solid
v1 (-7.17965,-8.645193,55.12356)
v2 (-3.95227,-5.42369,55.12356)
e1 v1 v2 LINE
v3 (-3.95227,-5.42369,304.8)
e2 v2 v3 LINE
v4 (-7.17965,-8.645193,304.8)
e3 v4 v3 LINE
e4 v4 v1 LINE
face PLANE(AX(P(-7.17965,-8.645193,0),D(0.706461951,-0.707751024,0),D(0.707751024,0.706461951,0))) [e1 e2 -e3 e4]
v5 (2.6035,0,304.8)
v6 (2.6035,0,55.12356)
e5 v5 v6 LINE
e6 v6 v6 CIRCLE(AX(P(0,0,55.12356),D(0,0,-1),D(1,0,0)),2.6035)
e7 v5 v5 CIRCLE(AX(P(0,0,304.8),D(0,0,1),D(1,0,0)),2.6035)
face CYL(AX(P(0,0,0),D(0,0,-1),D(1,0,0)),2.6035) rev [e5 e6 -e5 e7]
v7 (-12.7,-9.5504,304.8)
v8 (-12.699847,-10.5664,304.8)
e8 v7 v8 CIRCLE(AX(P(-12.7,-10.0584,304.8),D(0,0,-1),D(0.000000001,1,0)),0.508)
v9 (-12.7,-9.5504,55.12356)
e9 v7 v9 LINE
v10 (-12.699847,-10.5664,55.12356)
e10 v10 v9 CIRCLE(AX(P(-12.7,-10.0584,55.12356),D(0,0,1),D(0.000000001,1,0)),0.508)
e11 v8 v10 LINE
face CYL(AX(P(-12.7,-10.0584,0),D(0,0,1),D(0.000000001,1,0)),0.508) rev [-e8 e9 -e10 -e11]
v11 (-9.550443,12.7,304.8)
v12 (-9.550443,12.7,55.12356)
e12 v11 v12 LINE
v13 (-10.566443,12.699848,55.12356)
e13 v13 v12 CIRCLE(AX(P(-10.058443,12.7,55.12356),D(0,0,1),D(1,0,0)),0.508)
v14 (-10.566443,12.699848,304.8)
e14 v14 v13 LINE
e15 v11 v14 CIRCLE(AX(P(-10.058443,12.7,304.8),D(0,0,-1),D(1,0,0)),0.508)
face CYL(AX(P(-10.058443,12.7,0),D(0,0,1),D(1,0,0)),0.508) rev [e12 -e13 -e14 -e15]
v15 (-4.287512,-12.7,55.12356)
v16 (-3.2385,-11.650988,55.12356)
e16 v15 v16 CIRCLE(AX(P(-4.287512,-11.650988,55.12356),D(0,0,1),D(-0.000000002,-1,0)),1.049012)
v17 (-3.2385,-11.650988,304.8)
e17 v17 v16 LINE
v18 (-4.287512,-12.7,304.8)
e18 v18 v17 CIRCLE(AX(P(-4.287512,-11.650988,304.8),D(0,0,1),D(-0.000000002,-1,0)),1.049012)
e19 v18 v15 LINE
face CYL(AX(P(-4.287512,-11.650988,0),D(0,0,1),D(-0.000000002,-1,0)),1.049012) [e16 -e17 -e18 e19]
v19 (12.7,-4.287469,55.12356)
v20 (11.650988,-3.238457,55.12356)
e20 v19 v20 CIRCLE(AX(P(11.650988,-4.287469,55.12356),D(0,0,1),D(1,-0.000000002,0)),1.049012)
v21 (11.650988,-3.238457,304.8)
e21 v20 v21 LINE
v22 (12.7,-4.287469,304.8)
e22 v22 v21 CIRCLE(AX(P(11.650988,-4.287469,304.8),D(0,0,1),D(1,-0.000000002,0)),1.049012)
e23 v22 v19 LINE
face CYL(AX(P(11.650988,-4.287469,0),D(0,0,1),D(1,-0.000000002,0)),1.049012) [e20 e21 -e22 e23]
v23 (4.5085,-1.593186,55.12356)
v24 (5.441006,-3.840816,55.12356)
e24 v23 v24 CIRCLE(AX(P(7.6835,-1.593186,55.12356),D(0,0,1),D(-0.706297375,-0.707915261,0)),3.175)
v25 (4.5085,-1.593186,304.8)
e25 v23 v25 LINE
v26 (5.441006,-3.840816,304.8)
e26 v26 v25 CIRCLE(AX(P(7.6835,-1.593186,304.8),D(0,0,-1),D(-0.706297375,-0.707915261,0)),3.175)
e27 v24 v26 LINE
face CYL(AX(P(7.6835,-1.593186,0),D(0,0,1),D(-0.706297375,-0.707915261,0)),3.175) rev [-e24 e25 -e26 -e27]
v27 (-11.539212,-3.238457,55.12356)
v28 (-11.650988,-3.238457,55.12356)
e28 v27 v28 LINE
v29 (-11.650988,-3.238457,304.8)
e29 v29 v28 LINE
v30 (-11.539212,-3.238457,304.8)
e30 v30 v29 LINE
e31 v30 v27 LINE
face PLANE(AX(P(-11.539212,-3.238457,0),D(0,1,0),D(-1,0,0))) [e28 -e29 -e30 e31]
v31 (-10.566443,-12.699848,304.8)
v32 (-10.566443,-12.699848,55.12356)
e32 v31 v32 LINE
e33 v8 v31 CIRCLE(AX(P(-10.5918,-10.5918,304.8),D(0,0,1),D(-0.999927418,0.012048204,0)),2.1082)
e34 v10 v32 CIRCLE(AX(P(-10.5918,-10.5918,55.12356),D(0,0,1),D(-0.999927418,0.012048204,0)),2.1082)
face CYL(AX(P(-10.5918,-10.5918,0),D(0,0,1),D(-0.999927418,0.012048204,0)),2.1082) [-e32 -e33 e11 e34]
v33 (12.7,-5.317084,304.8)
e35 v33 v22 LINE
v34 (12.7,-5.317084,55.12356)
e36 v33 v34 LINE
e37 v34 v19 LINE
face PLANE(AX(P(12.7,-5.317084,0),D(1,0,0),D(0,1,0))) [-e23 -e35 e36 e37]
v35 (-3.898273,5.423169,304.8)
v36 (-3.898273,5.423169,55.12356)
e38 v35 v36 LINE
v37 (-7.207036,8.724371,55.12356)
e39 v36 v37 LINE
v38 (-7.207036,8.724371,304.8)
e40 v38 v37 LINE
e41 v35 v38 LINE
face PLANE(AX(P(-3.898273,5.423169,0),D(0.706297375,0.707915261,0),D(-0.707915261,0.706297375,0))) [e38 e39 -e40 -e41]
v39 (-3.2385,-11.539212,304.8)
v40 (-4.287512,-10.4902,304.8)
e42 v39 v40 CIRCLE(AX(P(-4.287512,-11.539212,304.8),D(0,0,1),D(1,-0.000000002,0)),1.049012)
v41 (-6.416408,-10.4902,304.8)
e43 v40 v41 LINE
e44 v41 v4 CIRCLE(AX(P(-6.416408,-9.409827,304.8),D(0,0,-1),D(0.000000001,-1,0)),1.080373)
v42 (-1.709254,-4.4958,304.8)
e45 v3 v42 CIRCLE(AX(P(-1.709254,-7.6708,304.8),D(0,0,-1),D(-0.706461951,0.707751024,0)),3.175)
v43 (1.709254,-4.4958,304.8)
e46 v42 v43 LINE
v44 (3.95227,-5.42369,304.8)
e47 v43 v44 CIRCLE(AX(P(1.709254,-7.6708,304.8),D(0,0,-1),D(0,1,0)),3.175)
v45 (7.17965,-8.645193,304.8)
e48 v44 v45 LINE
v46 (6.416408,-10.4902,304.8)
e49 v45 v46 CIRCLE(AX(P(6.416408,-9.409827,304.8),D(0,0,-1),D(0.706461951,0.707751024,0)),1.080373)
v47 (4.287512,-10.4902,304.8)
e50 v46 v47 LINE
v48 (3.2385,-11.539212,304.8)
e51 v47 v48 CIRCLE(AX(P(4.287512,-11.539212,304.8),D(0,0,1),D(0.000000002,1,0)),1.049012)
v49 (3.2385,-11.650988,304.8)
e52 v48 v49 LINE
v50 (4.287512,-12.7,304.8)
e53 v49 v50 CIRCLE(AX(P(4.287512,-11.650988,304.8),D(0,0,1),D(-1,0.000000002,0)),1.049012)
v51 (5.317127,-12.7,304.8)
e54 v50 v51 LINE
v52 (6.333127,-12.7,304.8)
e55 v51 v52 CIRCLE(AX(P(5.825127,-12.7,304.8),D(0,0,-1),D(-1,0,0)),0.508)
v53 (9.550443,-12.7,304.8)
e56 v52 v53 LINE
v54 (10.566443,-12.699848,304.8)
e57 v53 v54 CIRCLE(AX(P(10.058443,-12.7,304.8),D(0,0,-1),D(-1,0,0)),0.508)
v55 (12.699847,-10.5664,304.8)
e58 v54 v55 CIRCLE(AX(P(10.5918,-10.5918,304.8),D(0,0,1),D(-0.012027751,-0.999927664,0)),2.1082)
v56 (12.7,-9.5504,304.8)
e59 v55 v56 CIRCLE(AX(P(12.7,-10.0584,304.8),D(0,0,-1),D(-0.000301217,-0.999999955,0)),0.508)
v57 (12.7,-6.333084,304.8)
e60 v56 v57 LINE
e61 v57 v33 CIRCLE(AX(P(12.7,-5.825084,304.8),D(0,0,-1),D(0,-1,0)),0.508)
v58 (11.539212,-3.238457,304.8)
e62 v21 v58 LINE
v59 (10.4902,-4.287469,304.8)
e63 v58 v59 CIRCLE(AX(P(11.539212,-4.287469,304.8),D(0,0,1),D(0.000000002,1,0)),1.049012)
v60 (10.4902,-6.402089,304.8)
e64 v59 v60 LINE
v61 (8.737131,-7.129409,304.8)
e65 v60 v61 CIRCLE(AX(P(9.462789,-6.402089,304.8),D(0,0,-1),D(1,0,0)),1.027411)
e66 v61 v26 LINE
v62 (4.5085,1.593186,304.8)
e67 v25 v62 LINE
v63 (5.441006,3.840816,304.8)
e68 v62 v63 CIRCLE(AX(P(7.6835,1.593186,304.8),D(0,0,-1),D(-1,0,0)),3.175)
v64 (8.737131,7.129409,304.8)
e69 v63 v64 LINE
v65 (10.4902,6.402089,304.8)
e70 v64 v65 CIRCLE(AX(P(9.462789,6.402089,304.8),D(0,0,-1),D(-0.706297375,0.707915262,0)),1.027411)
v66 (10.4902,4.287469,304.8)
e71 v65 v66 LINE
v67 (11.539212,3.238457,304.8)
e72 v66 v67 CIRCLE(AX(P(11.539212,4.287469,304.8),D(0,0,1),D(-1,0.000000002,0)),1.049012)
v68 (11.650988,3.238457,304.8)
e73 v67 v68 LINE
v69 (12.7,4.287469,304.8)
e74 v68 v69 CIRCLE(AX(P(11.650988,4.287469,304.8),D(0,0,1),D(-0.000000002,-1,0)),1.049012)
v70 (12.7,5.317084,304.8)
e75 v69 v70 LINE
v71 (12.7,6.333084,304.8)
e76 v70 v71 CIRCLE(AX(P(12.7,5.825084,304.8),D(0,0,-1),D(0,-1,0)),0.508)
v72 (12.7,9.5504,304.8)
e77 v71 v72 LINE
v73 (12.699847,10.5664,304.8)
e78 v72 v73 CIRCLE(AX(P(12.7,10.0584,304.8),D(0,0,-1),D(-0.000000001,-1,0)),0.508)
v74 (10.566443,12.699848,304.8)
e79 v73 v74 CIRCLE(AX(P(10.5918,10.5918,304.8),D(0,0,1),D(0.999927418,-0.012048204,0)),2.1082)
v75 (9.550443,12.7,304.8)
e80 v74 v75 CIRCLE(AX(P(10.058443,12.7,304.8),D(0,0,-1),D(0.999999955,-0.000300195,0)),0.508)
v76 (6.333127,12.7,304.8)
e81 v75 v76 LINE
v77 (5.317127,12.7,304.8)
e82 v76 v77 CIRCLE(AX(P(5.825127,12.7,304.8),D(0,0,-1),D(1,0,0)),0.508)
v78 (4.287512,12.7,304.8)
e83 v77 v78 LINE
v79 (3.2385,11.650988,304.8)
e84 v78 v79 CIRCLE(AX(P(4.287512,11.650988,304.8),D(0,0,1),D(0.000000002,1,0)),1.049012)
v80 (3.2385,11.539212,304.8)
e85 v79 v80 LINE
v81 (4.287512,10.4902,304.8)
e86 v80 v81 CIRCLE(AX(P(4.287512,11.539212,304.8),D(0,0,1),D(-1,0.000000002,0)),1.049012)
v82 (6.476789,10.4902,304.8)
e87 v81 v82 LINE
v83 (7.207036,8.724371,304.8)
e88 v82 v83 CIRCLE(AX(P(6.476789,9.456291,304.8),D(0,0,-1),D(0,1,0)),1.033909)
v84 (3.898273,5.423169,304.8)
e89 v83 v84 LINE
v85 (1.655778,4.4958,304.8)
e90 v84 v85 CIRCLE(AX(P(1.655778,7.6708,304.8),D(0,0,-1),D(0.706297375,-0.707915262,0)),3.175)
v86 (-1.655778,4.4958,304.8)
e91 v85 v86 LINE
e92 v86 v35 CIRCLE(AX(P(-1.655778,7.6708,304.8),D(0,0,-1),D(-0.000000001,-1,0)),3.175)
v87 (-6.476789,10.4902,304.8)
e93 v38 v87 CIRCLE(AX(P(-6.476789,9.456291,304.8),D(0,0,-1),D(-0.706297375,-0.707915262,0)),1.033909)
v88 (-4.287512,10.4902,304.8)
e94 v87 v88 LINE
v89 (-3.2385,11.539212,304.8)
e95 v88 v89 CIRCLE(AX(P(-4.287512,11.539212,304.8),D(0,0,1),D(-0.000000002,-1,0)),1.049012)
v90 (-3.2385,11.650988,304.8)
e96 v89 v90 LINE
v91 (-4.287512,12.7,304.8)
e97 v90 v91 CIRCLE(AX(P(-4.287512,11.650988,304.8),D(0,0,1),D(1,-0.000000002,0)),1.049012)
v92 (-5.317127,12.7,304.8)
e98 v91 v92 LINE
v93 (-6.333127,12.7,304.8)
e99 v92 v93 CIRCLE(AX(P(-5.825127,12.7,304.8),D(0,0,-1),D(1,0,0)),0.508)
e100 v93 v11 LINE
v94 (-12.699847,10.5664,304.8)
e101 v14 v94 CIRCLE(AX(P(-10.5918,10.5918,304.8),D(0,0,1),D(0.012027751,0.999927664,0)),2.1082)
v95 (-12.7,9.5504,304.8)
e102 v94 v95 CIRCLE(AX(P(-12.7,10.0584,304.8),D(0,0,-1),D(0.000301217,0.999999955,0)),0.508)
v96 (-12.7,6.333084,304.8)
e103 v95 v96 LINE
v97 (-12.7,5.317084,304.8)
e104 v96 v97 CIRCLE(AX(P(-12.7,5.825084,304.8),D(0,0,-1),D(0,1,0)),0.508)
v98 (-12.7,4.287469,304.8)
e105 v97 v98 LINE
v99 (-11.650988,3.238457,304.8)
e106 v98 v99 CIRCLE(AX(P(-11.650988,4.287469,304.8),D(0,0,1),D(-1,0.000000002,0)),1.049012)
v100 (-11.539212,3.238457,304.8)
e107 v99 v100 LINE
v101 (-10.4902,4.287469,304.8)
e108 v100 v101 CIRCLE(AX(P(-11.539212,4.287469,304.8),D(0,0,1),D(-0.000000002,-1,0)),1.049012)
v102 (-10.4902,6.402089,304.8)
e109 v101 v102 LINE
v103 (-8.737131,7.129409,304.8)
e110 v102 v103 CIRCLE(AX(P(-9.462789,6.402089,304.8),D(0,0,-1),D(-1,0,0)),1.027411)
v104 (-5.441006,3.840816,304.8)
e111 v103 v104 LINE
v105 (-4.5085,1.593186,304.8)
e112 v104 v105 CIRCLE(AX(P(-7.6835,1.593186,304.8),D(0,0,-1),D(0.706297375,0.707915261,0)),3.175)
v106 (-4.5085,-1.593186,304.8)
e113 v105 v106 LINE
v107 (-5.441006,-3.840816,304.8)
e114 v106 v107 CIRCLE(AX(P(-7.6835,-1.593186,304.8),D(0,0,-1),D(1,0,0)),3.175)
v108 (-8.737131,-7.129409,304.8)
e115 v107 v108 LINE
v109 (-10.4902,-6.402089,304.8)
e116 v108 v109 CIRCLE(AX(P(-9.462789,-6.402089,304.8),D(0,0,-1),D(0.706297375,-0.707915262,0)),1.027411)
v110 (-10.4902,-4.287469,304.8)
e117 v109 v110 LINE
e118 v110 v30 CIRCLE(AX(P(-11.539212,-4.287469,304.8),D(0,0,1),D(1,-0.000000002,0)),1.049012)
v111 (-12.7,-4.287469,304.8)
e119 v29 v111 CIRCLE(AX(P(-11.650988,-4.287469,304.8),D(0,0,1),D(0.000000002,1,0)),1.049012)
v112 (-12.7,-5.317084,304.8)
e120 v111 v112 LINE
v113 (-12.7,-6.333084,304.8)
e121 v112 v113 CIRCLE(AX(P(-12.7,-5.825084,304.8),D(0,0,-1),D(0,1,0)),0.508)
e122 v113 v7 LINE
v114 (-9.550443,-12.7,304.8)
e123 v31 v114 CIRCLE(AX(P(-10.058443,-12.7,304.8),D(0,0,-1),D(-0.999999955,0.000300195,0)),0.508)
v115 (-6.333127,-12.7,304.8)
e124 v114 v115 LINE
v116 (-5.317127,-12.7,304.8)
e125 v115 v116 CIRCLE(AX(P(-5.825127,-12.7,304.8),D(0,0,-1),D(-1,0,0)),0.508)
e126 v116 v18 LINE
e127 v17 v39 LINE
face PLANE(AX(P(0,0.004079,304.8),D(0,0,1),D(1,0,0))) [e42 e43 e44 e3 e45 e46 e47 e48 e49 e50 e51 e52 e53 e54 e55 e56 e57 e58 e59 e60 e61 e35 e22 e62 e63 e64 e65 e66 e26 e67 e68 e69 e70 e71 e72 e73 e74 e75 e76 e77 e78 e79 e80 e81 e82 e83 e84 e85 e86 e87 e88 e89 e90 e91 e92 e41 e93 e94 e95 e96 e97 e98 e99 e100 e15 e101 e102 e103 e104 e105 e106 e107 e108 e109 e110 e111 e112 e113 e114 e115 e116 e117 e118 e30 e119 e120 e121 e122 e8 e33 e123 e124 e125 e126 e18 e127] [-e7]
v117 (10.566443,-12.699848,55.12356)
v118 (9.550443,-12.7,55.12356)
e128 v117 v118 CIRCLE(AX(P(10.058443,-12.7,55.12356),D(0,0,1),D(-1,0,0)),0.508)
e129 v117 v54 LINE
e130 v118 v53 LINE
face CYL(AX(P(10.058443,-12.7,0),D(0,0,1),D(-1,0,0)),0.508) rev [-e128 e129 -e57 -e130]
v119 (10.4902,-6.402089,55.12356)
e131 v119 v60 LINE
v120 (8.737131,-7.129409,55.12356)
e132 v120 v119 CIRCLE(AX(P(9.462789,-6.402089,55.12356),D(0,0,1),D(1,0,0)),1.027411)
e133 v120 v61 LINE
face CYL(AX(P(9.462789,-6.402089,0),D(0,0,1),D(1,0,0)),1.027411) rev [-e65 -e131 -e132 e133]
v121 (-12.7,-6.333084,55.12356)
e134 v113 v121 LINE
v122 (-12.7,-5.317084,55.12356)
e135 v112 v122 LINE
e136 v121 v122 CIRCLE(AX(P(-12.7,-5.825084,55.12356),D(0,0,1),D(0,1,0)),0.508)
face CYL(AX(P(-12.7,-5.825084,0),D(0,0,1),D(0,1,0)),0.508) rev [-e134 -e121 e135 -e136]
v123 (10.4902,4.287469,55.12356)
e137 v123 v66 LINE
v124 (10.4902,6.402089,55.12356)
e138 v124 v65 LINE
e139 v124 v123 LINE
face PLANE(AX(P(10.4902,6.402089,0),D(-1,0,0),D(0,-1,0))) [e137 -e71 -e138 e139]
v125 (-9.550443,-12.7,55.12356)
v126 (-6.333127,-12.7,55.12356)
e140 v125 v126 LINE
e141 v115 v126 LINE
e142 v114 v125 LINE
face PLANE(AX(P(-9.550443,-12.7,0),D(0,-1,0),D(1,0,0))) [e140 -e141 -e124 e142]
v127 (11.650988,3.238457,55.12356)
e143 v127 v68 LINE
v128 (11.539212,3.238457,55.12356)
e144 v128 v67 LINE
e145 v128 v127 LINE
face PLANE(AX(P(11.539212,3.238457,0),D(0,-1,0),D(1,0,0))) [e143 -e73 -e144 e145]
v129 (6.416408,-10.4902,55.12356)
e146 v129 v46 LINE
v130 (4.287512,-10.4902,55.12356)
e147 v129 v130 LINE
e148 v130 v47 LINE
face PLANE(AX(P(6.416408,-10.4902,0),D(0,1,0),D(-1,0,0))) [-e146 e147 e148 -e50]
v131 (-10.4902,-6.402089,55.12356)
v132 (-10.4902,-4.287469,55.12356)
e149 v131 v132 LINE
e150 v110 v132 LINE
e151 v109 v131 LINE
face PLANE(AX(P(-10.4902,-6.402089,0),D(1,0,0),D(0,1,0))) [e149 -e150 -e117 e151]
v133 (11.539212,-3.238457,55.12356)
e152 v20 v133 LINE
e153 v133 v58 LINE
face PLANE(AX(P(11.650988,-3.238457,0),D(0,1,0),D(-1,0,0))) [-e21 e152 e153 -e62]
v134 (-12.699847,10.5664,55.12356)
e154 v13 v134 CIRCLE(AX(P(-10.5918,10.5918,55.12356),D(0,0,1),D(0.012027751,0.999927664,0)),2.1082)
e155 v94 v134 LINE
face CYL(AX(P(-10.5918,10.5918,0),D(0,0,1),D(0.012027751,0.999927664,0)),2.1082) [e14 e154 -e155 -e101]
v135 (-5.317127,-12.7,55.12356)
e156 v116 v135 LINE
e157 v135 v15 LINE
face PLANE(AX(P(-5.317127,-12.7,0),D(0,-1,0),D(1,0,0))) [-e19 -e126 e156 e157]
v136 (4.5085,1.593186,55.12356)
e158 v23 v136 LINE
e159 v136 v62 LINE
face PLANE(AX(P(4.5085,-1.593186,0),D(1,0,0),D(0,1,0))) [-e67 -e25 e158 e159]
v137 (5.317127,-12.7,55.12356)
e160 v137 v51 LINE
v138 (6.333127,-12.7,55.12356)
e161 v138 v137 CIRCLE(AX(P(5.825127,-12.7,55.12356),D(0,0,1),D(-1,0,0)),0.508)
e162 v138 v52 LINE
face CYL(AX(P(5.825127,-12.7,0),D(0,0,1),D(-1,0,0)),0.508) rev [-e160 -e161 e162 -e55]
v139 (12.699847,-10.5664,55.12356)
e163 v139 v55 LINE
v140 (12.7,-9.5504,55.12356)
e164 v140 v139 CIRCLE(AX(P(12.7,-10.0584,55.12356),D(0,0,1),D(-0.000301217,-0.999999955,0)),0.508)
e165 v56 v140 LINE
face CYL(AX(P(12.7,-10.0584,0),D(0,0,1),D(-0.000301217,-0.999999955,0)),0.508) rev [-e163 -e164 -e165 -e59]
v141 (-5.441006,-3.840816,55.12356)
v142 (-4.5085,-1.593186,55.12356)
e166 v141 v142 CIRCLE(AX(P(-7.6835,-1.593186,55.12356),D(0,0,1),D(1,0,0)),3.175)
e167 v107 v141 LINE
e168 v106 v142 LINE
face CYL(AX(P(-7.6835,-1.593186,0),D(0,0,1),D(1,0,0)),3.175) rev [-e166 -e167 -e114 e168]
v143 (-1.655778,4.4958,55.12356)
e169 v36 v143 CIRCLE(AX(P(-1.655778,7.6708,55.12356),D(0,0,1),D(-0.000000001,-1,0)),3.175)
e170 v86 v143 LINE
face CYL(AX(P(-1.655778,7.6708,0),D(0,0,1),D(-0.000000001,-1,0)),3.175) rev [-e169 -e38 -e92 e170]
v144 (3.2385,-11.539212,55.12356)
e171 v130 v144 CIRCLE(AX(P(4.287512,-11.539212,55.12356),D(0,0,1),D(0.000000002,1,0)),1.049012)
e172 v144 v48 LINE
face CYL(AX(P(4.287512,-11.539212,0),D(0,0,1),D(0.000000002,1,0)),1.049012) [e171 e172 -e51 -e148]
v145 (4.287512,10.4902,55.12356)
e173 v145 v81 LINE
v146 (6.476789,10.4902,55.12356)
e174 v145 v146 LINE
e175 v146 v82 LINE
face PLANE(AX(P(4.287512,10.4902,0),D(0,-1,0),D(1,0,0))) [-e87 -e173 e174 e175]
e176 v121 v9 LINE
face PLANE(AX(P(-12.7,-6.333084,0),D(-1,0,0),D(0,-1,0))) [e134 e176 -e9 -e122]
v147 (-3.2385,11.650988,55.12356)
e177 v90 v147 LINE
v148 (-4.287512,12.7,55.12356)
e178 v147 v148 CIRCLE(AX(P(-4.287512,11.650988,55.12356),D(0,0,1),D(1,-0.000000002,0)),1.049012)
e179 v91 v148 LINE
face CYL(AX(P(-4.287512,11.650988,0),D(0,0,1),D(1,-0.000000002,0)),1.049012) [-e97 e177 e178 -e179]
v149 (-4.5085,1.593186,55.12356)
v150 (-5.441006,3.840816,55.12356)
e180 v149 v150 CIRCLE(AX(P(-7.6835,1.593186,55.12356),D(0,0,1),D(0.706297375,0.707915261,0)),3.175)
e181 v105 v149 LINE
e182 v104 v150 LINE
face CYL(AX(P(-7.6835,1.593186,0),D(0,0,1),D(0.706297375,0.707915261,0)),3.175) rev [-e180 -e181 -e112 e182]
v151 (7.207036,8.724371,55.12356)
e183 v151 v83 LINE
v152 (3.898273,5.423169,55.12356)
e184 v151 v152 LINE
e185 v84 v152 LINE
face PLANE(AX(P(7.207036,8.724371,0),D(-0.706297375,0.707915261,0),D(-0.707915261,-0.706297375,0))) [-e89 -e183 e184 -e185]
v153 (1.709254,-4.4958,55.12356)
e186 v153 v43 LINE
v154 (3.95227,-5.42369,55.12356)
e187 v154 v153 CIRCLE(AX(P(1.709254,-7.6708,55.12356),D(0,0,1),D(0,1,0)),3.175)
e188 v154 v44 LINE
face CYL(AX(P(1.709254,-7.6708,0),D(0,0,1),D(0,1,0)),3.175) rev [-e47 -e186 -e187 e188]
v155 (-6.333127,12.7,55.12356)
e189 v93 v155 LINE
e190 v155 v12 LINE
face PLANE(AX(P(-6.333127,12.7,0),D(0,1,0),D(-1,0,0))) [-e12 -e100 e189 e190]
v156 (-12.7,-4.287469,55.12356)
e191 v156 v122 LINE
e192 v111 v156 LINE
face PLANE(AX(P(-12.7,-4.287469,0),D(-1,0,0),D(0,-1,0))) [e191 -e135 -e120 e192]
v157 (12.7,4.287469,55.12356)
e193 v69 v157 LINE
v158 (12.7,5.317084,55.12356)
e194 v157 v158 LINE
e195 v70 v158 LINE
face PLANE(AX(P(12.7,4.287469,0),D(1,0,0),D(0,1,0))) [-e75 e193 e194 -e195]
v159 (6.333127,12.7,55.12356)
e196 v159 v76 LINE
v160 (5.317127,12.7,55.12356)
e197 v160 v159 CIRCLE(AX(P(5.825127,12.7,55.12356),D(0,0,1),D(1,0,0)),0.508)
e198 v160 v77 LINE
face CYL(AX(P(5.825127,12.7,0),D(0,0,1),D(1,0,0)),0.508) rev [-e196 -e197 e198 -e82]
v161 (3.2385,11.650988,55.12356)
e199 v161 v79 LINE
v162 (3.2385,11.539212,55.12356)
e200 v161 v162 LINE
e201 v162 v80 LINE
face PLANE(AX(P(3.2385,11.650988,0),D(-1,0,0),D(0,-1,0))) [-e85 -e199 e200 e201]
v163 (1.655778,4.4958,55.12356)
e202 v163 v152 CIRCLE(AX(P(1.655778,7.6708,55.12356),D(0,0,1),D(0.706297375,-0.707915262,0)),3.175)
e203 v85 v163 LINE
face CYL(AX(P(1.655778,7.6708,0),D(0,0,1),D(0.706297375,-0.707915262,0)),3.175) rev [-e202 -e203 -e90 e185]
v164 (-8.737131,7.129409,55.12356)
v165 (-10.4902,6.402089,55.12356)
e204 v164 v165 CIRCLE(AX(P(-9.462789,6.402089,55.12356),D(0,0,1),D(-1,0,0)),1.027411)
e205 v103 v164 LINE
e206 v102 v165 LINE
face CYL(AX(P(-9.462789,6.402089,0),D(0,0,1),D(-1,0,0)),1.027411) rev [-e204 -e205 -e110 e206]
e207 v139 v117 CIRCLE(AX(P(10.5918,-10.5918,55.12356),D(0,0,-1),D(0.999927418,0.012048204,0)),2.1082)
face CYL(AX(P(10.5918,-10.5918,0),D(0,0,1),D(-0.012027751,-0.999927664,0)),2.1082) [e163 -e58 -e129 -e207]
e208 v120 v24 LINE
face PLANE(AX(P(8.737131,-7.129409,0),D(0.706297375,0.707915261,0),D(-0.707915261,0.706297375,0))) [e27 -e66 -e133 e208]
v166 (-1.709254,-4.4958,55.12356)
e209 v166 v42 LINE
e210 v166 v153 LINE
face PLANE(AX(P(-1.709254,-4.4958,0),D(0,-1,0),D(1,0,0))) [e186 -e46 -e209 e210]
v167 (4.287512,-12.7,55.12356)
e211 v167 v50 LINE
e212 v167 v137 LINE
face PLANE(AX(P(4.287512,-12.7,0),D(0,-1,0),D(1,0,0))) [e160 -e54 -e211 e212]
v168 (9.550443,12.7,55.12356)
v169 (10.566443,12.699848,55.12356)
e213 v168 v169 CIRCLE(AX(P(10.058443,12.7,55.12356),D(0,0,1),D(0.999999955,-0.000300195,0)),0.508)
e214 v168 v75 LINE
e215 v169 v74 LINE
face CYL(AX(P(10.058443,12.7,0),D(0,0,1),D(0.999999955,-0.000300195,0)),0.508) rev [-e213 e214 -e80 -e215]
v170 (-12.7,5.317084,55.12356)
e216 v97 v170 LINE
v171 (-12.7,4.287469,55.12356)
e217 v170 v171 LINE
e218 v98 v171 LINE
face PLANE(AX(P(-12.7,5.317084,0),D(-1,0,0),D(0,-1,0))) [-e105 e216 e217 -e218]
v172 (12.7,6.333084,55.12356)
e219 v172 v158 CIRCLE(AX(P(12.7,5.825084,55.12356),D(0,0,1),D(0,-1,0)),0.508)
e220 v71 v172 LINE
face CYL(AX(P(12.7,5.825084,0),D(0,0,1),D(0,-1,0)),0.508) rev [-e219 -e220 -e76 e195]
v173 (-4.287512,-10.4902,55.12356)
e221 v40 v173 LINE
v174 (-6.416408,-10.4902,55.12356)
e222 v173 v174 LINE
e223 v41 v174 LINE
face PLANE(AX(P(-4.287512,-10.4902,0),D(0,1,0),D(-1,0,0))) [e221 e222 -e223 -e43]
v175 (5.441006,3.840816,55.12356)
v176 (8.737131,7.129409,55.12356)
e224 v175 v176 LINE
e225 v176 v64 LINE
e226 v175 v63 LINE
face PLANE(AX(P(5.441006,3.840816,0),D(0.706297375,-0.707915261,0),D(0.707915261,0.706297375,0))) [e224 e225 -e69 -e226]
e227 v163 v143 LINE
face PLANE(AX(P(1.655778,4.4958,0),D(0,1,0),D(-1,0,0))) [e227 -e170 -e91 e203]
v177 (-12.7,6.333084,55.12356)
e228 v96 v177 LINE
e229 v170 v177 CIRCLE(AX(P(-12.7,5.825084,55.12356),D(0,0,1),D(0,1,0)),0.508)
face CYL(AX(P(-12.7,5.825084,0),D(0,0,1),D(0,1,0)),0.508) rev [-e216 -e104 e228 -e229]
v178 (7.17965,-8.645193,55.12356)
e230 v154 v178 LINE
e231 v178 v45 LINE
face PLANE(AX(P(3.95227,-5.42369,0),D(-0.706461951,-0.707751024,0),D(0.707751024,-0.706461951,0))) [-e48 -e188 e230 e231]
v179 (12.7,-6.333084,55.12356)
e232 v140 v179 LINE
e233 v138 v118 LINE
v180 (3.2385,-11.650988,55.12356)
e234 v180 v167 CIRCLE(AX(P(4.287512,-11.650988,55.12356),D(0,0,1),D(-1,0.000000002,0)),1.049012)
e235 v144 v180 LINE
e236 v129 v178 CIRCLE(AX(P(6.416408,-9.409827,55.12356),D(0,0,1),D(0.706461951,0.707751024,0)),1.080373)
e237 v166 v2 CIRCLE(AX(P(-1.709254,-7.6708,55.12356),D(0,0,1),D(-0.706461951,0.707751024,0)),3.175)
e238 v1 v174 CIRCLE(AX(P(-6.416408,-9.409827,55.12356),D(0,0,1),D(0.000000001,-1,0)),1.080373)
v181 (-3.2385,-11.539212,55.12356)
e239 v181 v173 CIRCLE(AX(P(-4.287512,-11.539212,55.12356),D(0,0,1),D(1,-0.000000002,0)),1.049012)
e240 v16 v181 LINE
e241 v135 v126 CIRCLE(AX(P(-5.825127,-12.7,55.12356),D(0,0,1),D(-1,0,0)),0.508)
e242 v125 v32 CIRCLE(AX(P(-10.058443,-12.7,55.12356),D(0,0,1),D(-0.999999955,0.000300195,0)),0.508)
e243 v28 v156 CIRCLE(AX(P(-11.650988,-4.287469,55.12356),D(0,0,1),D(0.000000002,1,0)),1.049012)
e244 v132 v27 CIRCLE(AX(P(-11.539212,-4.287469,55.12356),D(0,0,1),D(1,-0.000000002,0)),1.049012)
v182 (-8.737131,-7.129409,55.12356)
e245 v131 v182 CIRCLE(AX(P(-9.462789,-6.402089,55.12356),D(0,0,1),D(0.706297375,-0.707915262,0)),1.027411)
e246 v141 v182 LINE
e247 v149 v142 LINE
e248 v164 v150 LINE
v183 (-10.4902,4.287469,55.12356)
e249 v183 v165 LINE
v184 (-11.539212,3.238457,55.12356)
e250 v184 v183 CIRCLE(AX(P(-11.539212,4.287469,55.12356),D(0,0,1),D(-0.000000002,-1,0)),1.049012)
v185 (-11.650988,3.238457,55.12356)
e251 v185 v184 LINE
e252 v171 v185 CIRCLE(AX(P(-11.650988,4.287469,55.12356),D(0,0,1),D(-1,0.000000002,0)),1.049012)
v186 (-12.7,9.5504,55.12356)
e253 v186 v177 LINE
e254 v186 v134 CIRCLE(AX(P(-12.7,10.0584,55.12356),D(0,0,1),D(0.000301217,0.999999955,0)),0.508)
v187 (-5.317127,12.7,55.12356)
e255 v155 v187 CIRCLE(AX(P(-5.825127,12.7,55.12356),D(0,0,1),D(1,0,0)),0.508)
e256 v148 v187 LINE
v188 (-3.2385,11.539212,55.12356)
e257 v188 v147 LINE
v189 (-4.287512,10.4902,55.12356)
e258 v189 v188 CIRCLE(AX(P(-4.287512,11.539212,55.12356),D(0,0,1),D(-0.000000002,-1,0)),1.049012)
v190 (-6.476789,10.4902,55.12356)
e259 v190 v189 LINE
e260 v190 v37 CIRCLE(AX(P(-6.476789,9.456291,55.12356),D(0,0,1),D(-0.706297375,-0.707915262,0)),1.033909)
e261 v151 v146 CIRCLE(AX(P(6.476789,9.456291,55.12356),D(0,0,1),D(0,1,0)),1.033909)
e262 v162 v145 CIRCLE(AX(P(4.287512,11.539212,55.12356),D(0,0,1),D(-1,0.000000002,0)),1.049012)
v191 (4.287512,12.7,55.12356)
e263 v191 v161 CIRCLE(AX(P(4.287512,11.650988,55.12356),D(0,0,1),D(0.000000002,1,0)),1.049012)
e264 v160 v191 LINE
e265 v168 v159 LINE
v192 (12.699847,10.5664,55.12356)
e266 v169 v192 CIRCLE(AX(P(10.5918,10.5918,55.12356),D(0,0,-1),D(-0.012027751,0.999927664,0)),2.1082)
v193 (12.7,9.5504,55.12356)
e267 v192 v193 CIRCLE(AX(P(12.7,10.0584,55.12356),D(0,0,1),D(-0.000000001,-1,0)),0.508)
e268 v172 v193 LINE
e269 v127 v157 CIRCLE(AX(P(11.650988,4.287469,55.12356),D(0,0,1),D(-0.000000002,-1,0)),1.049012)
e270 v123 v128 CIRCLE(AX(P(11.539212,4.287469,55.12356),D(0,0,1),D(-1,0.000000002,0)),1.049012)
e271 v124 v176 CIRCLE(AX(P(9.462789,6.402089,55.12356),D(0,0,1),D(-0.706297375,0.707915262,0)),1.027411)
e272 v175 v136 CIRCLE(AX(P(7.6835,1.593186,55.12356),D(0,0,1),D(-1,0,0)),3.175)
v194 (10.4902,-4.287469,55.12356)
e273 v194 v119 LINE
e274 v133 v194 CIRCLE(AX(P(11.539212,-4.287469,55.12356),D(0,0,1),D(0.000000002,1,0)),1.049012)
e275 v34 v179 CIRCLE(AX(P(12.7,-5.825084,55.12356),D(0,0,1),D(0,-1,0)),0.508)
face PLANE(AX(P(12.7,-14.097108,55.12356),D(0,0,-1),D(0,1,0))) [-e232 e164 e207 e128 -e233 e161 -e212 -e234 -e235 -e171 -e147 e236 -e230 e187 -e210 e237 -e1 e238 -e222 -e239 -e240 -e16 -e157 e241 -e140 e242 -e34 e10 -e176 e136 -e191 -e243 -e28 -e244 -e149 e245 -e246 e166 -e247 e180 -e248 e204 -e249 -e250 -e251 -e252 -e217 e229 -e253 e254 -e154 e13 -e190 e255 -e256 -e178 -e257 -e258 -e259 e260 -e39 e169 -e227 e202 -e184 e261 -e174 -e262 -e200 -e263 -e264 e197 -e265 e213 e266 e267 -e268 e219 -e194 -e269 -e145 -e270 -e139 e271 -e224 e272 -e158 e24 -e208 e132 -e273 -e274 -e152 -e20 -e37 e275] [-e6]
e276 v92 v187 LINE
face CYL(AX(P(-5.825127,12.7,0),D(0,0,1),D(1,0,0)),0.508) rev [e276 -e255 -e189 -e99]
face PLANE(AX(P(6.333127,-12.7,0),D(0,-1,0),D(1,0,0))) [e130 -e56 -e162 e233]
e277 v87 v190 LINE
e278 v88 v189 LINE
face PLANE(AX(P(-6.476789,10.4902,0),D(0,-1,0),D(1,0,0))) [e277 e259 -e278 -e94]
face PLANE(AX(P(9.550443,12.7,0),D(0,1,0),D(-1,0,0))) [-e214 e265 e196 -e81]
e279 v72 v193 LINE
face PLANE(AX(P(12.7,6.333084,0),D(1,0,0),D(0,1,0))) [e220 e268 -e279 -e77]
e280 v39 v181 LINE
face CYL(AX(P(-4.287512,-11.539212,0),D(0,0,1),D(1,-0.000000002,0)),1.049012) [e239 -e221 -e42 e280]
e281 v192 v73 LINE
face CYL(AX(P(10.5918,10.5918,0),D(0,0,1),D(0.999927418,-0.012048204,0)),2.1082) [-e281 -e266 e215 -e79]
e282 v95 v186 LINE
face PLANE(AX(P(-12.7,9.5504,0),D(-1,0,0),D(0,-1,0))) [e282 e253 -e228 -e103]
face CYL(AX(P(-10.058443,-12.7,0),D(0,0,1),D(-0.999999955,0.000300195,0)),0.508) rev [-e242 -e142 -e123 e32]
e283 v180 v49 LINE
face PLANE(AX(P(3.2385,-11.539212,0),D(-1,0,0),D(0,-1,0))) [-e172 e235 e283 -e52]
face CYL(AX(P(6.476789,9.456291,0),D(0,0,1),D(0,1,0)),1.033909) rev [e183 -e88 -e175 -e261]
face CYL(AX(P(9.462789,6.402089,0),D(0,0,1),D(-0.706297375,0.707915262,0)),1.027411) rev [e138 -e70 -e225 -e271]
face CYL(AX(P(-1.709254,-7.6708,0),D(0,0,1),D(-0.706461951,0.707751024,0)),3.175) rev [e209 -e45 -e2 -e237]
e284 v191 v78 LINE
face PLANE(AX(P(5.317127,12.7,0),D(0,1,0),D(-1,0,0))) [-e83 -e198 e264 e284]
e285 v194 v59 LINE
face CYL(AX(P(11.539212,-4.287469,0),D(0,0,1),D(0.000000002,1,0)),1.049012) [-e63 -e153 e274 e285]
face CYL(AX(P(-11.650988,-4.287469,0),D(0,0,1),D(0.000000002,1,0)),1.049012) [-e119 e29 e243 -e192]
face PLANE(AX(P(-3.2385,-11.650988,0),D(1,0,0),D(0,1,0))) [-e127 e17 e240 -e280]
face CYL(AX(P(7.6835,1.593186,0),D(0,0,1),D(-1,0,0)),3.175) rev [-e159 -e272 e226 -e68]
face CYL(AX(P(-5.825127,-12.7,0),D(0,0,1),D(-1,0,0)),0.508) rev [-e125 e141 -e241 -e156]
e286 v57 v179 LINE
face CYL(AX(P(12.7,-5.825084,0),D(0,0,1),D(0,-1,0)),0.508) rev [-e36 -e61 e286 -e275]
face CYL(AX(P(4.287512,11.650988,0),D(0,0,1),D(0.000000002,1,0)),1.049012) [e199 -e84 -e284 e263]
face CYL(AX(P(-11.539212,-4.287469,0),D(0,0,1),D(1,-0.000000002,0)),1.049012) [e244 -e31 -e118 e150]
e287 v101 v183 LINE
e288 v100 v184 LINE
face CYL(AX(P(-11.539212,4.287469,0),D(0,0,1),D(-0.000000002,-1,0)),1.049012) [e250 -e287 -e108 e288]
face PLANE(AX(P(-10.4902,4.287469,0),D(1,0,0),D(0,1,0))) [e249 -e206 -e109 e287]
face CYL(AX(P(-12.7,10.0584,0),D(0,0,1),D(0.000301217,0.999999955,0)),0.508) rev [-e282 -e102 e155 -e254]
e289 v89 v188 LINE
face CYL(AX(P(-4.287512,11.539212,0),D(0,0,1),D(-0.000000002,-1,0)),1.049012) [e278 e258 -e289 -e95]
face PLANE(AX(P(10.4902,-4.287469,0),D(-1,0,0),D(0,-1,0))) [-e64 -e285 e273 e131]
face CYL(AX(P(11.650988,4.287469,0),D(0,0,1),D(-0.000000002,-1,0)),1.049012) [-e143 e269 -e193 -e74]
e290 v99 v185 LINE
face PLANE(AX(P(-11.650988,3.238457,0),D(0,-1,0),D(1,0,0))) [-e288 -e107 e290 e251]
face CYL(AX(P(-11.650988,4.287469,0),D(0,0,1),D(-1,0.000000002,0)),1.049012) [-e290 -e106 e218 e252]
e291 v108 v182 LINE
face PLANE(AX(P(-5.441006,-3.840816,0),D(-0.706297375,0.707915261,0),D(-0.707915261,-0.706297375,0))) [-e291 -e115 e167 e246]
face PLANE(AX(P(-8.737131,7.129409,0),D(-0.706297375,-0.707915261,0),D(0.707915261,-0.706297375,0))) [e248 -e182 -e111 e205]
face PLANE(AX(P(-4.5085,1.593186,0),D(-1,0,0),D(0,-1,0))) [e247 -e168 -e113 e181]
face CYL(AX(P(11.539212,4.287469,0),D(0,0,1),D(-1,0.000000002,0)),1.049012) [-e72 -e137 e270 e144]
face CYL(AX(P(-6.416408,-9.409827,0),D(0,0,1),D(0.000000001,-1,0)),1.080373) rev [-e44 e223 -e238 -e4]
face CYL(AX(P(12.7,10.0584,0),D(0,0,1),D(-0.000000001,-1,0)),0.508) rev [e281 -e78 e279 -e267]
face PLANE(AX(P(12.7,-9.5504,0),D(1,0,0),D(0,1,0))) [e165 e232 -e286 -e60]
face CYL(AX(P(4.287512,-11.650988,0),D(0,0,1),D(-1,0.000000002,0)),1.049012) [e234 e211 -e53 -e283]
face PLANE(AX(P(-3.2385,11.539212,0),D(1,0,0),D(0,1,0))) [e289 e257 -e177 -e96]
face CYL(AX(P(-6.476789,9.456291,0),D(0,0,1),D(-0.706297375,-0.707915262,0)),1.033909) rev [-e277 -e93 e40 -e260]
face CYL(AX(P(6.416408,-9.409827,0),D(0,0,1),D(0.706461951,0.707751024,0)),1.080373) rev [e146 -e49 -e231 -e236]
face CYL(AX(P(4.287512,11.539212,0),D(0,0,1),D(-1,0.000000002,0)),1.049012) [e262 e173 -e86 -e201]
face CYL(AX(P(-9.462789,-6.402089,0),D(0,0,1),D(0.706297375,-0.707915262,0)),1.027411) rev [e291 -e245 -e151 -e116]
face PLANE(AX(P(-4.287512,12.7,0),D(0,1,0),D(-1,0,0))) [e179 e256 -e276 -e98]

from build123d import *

# Parameters (mm, degrees)
SKETCH1_R               = 2.6035
BOSS_EXTRUDE1_DEPTH     = 304.8
SKETCH2_W               = 362.658607085
SKETCH2_H               = 27.642551573
CUT_EXTRUDE1_DEPTH      = 7.112
CUT_EXTRUDE1_DEPTH_BACK = 30.734


with BuildPart() as part:
    # Sketch1 → Boss-Extrude1 (new body, symmetric)
    with BuildSketch(Plane.XY):
        with BuildLine():
            Line((-7.179650497, -8.645192506), (-3.952270251, -5.423690499))
            ThreePointArc((-3.952270251, -5.423690499), (-2.922936451, -4.736929036), (-1.709253557, -4.4958))
            Line((-1.709253557, -4.4958), (1.709253557, -4.4958))
            ThreePointArc((1.709253557, -4.4958), (2.922936451, -4.736929036), (3.952270251, -5.423690499))
            Line((3.952270251, -5.423690499), (7.179650497, -8.645192506))
            ThreePointArc((7.179650497, -8.645192506), (7.41473083, -9.822813117), (6.416408329, -10.4902))
            Line((6.416408329, -10.4902), (4.287512407, -10.4902))
            ThreePointArc((4.287512407, -10.4902), (3.54574862, -10.79744862), (3.2385, -11.539212407))
            Line((3.2385, -11.539212407), (3.2385, -11.650987593))
            ThreePointArc((3.2385, -11.650987593), (3.54574862, -12.39275138), (4.287512407, -12.7))
            Line((4.287512407, -12.7), (5.317126718, -12.7))
            ThreePointArc((5.317126718, -12.7), (5.825126718, -12.192), (6.333126718, -12.7))
            Line((6.333126718, -12.7), (9.550443118, -12.7))
            ThreePointArc((9.550443118, -12.7), (10.058366869, -12.192000006), (10.566443095, -12.699847501))
            ThreePointArc((10.566443095, -12.699847501), (12.082537762, -12.08250727), (12.699846982, -10.566399977))
            ThreePointArc((12.699846982, -10.566399977), (12.192000006, -10.058323491), (12.7, -9.5504))
            Line((12.7, -9.5504), (12.7, -6.3330836))
            ThreePointArc((12.7, -6.3330836), (12.192, -5.8250836), (12.7, -5.3170836))
            Line((12.7, -5.3170836), (12.7, -4.287469289))
            ThreePointArc((12.7, -4.287469289), (12.39275138, -3.545705502), (11.650987593, -3.238456882))
            Line((11.650987593, -3.238456882), (11.539212407, -3.238456882))
            ThreePointArc((11.539212407, -3.238456882), (10.79744862, -3.545705502), (10.4902, -4.287469289))
            Line((10.4902, -4.287469289), (10.4902, -6.402089023))
            ThreePointArc((10.4902, -6.402089023), (9.856505071, -7.351067942), (8.737131347, -7.129408934))
            Line((8.737131347, -7.129408934), (5.441005833, -3.840816462))
            ThreePointArc((5.441005833, -3.840816462), (4.750877967, -2.809883091), (4.5085, -1.593185507))
            Line((4.5085, -1.593185507), (4.5085, 1.593185507))
            ThreePointArc((4.5085, 1.593185507), (4.750877967, 2.809883091), (5.441005833, 3.840816462))
            Line((5.441005833, 3.840816462), (8.737131347, 7.129408934))
            ThreePointArc((8.737131347, 7.129408934), (9.856505071, 7.351067942), (10.4902, 6.402089023))
            Line((10.4902, 6.402089023), (10.4902, 4.287469289))
            ThreePointArc((10.4902, 4.287469289), (10.79744862, 3.545705502), (11.539212407, 3.238456882))
            Line((11.539212407, 3.238456882), (11.650987593, 3.238456882))
            ThreePointArc((11.650987593, 3.238456882), (12.39275138, 3.545705502), (12.7, 4.287469289))
            Line((12.7, 4.287469289), (12.7, 5.3170836))
            ThreePointArc((12.7, 5.3170836), (12.192, 5.8250836), (12.7, 6.3330836))
            Line((12.7, 6.3330836), (12.7, 9.5504))
            ThreePointArc((12.7, 9.5504), (12.192000006, 10.058323491), (12.699846982, 10.566399977))
            ThreePointArc((12.699846982, 10.566399977), (12.082537762, 12.08250727), (10.566443095, 12.699847501))
            ThreePointArc((10.566443095, 12.699847501), (10.058366869, 12.192000006), (9.550443118, 12.7))
            Line((9.550443118, 12.7), (6.333126718, 12.7))
            ThreePointArc((6.333126718, 12.7), (5.825126718, 12.192), (5.317126718, 12.7))
            Line((5.317126718, 12.7), (4.287512407, 12.7))
            ThreePointArc((4.287512407, 12.7), (3.54574862, 12.39275138), (3.2385, 11.650987593))
            Line((3.2385, 11.650987593), (3.2385, 11.539212407))
            ThreePointArc((3.2385, 11.539212407), (3.54574862, 10.79744862), (4.287512407, 10.4902))
            Line((4.287512407, 10.4902), (6.476788598, 10.4902))
            ThreePointArc((6.476788598, 10.4902), (7.432222385, 9.85140422), (7.207036008, 8.724370562))
            Line((7.207036008, 8.724370562), (3.898272566, 5.423169045))
            ThreePointArc((3.898272566, 5.423169045), (2.869120213, 4.736787962), (1.655778399, 4.4958))
            Line((1.655778399, 4.4958), (-1.655778399, 4.4958))
            ThreePointArc((-1.655778399, 4.4958), (-2.869120213, 4.736787962), (-3.898272566, 5.423169045))
            Line((-3.898272566, 5.423169045), (-7.207036008, 8.724370562))
            ThreePointArc((-7.207036008, 8.724370562), (-7.432222385, 9.85140422), (-6.476788598, 10.4902))
            Line((-6.476788598, 10.4902), (-4.287512407, 10.4902))
            ThreePointArc((-4.287512407, 10.4902), (-3.54574862, 10.79744862), (-3.2385, 11.539212407))
            Line((-3.2385, 11.539212407), (-3.2385, 11.650987593))
            ThreePointArc((-3.2385, 11.650987593), (-3.54574862, 12.39275138), (-4.287512407, 12.7))
            Line((-4.287512407, 12.7), (-5.317126718, 12.7))
            ThreePointArc((-5.317126718, 12.7), (-5.825126718, 12.192), (-6.333126718, 12.7))
            Line((-6.333126718, 12.7), (-9.550443118, 12.7))
            ThreePointArc((-9.550443118, 12.7), (-10.058366869, 12.192000006), (-10.566443095, 12.699847501))
            ThreePointArc((-10.566443095, 12.699847501), (-12.082537762, 12.08250727), (-12.699846982, 10.566399977))
            ThreePointArc((-12.699846982, 10.566399977), (-12.192000006, 10.058323491), (-12.7, 9.5504))
            Line((-12.7, 9.5504), (-12.7, 6.3330836))
            ThreePointArc((-12.7, 6.3330836), (-12.192, 5.8250836), (-12.7, 5.3170836))
            Line((-12.7, 5.3170836), (-12.7, 4.287469289))
            ThreePointArc((-12.7, 4.287469289), (-12.39275138, 3.545705502), (-11.650987593, 3.238456882))
            Line((-11.650987593, 3.238456882), (-11.539212407, 3.238456882))
            ThreePointArc((-11.539212407, 3.238456882), (-10.79744862, 3.545705502), (-10.4902, 4.287469289))
            Line((-10.4902, 4.287469289), (-10.4902, 6.402089023))
            ThreePointArc((-10.4902, 6.402089023), (-9.856505071, 7.351067942), (-8.737131347, 7.129408934))
            Line((-8.737131347, 7.129408934), (-5.441005833, 3.840816462))
            ThreePointArc((-5.441005833, 3.840816462), (-4.750877967, 2.809883091), (-4.5085, 1.593185507))
            Line((-4.5085, 1.593185507), (-4.5085, -1.593185507))
            ThreePointArc((-4.5085, -1.593185507), (-4.750877967, -2.809883091), (-5.441005833, -3.840816462))
            Line((-5.441005833, -3.840816462), (-8.737131347, -7.129408934))
            ThreePointArc((-8.737131347, -7.129408934), (-9.856505071, -7.351067942), (-10.4902, -6.402089023))
            Line((-10.4902, -6.402089023), (-10.4902, -4.287469289))
            ThreePointArc((-10.4902, -4.287469289), (-10.79744862, -3.545705502), (-11.539212407, -3.238456882))
            Line((-11.539212407, -3.238456882), (-11.650987593, -3.238456882))
            ThreePointArc((-11.650987593, -3.238456882), (-12.39275138, -3.545705502), (-12.7, -4.287469289))
            Line((-12.7, -4.287469289), (-12.7, -5.3170836))
            ThreePointArc((-12.7, -5.3170836), (-12.192, -5.8250836), (-12.7, -6.3330836))
            Line((-12.7, -6.3330836), (-12.7, -9.5504))
            ThreePointArc((-12.7, -9.5504), (-12.192000006, -10.058323491), (-12.699846982, -10.566399977))
            ThreePointArc((-12.699846982, -10.566399977), (-12.082537762, -12.08250727), (-10.566443095, -12.699847501))
            ThreePointArc((-10.566443095, -12.699847501), (-10.058366869, -12.192000006), (-9.550443118, -12.7))
            Line((-9.550443118, -12.7), (-6.333126718, -12.7))
            ThreePointArc((-6.333126718, -12.7), (-5.825126718, -12.192), (-5.317126718, -12.7))
            Line((-5.317126718, -12.7), (-4.287512407, -12.7))
            ThreePointArc((-4.287512407, -12.7), (-3.54574862, -12.39275138), (-3.2385, -11.650987593))
            Line((-3.2385, -11.650987593), (-3.2385, -11.539212407))
            ThreePointArc((-3.2385, -11.539212407), (-3.54574862, -10.79744862), (-4.287512407, -10.4902))
            Line((-4.287512407, -10.4902), (-6.416408329, -10.4902))
            ThreePointArc((-6.416408329, -10.4902), (-7.41473083, -9.822813117), (-7.179650497, -8.645192506))
        make_face()
        Circle(SKETCH1_R, mode=Mode.SUBTRACT)
    extrude(amount=BOSS_EXTRUDE1_DEPTH, both=True)

    # Sketch2 → Cut-Extrude1 (cut, two sides)
    with BuildSketch(Plane(origin=(12.7, 0, 0), x_dir=(0, 0, -1), z_dir=(1, 0, 0))) as cut_extrude1_sk:
        with Locations((126.205743533, -0.275832689)):
            Rectangle(SKETCH2_W, SKETCH2_H)
    extrude(amount=CUT_EXTRUDE1_DEPTH, mode=Mode.SUBTRACT)
    extrude(cut_extrude1_sk.sketch, amount=-CUT_EXTRUDE1_DEPTH_BACK, mode=Mode.SUBTRACT)


solid = part.part
